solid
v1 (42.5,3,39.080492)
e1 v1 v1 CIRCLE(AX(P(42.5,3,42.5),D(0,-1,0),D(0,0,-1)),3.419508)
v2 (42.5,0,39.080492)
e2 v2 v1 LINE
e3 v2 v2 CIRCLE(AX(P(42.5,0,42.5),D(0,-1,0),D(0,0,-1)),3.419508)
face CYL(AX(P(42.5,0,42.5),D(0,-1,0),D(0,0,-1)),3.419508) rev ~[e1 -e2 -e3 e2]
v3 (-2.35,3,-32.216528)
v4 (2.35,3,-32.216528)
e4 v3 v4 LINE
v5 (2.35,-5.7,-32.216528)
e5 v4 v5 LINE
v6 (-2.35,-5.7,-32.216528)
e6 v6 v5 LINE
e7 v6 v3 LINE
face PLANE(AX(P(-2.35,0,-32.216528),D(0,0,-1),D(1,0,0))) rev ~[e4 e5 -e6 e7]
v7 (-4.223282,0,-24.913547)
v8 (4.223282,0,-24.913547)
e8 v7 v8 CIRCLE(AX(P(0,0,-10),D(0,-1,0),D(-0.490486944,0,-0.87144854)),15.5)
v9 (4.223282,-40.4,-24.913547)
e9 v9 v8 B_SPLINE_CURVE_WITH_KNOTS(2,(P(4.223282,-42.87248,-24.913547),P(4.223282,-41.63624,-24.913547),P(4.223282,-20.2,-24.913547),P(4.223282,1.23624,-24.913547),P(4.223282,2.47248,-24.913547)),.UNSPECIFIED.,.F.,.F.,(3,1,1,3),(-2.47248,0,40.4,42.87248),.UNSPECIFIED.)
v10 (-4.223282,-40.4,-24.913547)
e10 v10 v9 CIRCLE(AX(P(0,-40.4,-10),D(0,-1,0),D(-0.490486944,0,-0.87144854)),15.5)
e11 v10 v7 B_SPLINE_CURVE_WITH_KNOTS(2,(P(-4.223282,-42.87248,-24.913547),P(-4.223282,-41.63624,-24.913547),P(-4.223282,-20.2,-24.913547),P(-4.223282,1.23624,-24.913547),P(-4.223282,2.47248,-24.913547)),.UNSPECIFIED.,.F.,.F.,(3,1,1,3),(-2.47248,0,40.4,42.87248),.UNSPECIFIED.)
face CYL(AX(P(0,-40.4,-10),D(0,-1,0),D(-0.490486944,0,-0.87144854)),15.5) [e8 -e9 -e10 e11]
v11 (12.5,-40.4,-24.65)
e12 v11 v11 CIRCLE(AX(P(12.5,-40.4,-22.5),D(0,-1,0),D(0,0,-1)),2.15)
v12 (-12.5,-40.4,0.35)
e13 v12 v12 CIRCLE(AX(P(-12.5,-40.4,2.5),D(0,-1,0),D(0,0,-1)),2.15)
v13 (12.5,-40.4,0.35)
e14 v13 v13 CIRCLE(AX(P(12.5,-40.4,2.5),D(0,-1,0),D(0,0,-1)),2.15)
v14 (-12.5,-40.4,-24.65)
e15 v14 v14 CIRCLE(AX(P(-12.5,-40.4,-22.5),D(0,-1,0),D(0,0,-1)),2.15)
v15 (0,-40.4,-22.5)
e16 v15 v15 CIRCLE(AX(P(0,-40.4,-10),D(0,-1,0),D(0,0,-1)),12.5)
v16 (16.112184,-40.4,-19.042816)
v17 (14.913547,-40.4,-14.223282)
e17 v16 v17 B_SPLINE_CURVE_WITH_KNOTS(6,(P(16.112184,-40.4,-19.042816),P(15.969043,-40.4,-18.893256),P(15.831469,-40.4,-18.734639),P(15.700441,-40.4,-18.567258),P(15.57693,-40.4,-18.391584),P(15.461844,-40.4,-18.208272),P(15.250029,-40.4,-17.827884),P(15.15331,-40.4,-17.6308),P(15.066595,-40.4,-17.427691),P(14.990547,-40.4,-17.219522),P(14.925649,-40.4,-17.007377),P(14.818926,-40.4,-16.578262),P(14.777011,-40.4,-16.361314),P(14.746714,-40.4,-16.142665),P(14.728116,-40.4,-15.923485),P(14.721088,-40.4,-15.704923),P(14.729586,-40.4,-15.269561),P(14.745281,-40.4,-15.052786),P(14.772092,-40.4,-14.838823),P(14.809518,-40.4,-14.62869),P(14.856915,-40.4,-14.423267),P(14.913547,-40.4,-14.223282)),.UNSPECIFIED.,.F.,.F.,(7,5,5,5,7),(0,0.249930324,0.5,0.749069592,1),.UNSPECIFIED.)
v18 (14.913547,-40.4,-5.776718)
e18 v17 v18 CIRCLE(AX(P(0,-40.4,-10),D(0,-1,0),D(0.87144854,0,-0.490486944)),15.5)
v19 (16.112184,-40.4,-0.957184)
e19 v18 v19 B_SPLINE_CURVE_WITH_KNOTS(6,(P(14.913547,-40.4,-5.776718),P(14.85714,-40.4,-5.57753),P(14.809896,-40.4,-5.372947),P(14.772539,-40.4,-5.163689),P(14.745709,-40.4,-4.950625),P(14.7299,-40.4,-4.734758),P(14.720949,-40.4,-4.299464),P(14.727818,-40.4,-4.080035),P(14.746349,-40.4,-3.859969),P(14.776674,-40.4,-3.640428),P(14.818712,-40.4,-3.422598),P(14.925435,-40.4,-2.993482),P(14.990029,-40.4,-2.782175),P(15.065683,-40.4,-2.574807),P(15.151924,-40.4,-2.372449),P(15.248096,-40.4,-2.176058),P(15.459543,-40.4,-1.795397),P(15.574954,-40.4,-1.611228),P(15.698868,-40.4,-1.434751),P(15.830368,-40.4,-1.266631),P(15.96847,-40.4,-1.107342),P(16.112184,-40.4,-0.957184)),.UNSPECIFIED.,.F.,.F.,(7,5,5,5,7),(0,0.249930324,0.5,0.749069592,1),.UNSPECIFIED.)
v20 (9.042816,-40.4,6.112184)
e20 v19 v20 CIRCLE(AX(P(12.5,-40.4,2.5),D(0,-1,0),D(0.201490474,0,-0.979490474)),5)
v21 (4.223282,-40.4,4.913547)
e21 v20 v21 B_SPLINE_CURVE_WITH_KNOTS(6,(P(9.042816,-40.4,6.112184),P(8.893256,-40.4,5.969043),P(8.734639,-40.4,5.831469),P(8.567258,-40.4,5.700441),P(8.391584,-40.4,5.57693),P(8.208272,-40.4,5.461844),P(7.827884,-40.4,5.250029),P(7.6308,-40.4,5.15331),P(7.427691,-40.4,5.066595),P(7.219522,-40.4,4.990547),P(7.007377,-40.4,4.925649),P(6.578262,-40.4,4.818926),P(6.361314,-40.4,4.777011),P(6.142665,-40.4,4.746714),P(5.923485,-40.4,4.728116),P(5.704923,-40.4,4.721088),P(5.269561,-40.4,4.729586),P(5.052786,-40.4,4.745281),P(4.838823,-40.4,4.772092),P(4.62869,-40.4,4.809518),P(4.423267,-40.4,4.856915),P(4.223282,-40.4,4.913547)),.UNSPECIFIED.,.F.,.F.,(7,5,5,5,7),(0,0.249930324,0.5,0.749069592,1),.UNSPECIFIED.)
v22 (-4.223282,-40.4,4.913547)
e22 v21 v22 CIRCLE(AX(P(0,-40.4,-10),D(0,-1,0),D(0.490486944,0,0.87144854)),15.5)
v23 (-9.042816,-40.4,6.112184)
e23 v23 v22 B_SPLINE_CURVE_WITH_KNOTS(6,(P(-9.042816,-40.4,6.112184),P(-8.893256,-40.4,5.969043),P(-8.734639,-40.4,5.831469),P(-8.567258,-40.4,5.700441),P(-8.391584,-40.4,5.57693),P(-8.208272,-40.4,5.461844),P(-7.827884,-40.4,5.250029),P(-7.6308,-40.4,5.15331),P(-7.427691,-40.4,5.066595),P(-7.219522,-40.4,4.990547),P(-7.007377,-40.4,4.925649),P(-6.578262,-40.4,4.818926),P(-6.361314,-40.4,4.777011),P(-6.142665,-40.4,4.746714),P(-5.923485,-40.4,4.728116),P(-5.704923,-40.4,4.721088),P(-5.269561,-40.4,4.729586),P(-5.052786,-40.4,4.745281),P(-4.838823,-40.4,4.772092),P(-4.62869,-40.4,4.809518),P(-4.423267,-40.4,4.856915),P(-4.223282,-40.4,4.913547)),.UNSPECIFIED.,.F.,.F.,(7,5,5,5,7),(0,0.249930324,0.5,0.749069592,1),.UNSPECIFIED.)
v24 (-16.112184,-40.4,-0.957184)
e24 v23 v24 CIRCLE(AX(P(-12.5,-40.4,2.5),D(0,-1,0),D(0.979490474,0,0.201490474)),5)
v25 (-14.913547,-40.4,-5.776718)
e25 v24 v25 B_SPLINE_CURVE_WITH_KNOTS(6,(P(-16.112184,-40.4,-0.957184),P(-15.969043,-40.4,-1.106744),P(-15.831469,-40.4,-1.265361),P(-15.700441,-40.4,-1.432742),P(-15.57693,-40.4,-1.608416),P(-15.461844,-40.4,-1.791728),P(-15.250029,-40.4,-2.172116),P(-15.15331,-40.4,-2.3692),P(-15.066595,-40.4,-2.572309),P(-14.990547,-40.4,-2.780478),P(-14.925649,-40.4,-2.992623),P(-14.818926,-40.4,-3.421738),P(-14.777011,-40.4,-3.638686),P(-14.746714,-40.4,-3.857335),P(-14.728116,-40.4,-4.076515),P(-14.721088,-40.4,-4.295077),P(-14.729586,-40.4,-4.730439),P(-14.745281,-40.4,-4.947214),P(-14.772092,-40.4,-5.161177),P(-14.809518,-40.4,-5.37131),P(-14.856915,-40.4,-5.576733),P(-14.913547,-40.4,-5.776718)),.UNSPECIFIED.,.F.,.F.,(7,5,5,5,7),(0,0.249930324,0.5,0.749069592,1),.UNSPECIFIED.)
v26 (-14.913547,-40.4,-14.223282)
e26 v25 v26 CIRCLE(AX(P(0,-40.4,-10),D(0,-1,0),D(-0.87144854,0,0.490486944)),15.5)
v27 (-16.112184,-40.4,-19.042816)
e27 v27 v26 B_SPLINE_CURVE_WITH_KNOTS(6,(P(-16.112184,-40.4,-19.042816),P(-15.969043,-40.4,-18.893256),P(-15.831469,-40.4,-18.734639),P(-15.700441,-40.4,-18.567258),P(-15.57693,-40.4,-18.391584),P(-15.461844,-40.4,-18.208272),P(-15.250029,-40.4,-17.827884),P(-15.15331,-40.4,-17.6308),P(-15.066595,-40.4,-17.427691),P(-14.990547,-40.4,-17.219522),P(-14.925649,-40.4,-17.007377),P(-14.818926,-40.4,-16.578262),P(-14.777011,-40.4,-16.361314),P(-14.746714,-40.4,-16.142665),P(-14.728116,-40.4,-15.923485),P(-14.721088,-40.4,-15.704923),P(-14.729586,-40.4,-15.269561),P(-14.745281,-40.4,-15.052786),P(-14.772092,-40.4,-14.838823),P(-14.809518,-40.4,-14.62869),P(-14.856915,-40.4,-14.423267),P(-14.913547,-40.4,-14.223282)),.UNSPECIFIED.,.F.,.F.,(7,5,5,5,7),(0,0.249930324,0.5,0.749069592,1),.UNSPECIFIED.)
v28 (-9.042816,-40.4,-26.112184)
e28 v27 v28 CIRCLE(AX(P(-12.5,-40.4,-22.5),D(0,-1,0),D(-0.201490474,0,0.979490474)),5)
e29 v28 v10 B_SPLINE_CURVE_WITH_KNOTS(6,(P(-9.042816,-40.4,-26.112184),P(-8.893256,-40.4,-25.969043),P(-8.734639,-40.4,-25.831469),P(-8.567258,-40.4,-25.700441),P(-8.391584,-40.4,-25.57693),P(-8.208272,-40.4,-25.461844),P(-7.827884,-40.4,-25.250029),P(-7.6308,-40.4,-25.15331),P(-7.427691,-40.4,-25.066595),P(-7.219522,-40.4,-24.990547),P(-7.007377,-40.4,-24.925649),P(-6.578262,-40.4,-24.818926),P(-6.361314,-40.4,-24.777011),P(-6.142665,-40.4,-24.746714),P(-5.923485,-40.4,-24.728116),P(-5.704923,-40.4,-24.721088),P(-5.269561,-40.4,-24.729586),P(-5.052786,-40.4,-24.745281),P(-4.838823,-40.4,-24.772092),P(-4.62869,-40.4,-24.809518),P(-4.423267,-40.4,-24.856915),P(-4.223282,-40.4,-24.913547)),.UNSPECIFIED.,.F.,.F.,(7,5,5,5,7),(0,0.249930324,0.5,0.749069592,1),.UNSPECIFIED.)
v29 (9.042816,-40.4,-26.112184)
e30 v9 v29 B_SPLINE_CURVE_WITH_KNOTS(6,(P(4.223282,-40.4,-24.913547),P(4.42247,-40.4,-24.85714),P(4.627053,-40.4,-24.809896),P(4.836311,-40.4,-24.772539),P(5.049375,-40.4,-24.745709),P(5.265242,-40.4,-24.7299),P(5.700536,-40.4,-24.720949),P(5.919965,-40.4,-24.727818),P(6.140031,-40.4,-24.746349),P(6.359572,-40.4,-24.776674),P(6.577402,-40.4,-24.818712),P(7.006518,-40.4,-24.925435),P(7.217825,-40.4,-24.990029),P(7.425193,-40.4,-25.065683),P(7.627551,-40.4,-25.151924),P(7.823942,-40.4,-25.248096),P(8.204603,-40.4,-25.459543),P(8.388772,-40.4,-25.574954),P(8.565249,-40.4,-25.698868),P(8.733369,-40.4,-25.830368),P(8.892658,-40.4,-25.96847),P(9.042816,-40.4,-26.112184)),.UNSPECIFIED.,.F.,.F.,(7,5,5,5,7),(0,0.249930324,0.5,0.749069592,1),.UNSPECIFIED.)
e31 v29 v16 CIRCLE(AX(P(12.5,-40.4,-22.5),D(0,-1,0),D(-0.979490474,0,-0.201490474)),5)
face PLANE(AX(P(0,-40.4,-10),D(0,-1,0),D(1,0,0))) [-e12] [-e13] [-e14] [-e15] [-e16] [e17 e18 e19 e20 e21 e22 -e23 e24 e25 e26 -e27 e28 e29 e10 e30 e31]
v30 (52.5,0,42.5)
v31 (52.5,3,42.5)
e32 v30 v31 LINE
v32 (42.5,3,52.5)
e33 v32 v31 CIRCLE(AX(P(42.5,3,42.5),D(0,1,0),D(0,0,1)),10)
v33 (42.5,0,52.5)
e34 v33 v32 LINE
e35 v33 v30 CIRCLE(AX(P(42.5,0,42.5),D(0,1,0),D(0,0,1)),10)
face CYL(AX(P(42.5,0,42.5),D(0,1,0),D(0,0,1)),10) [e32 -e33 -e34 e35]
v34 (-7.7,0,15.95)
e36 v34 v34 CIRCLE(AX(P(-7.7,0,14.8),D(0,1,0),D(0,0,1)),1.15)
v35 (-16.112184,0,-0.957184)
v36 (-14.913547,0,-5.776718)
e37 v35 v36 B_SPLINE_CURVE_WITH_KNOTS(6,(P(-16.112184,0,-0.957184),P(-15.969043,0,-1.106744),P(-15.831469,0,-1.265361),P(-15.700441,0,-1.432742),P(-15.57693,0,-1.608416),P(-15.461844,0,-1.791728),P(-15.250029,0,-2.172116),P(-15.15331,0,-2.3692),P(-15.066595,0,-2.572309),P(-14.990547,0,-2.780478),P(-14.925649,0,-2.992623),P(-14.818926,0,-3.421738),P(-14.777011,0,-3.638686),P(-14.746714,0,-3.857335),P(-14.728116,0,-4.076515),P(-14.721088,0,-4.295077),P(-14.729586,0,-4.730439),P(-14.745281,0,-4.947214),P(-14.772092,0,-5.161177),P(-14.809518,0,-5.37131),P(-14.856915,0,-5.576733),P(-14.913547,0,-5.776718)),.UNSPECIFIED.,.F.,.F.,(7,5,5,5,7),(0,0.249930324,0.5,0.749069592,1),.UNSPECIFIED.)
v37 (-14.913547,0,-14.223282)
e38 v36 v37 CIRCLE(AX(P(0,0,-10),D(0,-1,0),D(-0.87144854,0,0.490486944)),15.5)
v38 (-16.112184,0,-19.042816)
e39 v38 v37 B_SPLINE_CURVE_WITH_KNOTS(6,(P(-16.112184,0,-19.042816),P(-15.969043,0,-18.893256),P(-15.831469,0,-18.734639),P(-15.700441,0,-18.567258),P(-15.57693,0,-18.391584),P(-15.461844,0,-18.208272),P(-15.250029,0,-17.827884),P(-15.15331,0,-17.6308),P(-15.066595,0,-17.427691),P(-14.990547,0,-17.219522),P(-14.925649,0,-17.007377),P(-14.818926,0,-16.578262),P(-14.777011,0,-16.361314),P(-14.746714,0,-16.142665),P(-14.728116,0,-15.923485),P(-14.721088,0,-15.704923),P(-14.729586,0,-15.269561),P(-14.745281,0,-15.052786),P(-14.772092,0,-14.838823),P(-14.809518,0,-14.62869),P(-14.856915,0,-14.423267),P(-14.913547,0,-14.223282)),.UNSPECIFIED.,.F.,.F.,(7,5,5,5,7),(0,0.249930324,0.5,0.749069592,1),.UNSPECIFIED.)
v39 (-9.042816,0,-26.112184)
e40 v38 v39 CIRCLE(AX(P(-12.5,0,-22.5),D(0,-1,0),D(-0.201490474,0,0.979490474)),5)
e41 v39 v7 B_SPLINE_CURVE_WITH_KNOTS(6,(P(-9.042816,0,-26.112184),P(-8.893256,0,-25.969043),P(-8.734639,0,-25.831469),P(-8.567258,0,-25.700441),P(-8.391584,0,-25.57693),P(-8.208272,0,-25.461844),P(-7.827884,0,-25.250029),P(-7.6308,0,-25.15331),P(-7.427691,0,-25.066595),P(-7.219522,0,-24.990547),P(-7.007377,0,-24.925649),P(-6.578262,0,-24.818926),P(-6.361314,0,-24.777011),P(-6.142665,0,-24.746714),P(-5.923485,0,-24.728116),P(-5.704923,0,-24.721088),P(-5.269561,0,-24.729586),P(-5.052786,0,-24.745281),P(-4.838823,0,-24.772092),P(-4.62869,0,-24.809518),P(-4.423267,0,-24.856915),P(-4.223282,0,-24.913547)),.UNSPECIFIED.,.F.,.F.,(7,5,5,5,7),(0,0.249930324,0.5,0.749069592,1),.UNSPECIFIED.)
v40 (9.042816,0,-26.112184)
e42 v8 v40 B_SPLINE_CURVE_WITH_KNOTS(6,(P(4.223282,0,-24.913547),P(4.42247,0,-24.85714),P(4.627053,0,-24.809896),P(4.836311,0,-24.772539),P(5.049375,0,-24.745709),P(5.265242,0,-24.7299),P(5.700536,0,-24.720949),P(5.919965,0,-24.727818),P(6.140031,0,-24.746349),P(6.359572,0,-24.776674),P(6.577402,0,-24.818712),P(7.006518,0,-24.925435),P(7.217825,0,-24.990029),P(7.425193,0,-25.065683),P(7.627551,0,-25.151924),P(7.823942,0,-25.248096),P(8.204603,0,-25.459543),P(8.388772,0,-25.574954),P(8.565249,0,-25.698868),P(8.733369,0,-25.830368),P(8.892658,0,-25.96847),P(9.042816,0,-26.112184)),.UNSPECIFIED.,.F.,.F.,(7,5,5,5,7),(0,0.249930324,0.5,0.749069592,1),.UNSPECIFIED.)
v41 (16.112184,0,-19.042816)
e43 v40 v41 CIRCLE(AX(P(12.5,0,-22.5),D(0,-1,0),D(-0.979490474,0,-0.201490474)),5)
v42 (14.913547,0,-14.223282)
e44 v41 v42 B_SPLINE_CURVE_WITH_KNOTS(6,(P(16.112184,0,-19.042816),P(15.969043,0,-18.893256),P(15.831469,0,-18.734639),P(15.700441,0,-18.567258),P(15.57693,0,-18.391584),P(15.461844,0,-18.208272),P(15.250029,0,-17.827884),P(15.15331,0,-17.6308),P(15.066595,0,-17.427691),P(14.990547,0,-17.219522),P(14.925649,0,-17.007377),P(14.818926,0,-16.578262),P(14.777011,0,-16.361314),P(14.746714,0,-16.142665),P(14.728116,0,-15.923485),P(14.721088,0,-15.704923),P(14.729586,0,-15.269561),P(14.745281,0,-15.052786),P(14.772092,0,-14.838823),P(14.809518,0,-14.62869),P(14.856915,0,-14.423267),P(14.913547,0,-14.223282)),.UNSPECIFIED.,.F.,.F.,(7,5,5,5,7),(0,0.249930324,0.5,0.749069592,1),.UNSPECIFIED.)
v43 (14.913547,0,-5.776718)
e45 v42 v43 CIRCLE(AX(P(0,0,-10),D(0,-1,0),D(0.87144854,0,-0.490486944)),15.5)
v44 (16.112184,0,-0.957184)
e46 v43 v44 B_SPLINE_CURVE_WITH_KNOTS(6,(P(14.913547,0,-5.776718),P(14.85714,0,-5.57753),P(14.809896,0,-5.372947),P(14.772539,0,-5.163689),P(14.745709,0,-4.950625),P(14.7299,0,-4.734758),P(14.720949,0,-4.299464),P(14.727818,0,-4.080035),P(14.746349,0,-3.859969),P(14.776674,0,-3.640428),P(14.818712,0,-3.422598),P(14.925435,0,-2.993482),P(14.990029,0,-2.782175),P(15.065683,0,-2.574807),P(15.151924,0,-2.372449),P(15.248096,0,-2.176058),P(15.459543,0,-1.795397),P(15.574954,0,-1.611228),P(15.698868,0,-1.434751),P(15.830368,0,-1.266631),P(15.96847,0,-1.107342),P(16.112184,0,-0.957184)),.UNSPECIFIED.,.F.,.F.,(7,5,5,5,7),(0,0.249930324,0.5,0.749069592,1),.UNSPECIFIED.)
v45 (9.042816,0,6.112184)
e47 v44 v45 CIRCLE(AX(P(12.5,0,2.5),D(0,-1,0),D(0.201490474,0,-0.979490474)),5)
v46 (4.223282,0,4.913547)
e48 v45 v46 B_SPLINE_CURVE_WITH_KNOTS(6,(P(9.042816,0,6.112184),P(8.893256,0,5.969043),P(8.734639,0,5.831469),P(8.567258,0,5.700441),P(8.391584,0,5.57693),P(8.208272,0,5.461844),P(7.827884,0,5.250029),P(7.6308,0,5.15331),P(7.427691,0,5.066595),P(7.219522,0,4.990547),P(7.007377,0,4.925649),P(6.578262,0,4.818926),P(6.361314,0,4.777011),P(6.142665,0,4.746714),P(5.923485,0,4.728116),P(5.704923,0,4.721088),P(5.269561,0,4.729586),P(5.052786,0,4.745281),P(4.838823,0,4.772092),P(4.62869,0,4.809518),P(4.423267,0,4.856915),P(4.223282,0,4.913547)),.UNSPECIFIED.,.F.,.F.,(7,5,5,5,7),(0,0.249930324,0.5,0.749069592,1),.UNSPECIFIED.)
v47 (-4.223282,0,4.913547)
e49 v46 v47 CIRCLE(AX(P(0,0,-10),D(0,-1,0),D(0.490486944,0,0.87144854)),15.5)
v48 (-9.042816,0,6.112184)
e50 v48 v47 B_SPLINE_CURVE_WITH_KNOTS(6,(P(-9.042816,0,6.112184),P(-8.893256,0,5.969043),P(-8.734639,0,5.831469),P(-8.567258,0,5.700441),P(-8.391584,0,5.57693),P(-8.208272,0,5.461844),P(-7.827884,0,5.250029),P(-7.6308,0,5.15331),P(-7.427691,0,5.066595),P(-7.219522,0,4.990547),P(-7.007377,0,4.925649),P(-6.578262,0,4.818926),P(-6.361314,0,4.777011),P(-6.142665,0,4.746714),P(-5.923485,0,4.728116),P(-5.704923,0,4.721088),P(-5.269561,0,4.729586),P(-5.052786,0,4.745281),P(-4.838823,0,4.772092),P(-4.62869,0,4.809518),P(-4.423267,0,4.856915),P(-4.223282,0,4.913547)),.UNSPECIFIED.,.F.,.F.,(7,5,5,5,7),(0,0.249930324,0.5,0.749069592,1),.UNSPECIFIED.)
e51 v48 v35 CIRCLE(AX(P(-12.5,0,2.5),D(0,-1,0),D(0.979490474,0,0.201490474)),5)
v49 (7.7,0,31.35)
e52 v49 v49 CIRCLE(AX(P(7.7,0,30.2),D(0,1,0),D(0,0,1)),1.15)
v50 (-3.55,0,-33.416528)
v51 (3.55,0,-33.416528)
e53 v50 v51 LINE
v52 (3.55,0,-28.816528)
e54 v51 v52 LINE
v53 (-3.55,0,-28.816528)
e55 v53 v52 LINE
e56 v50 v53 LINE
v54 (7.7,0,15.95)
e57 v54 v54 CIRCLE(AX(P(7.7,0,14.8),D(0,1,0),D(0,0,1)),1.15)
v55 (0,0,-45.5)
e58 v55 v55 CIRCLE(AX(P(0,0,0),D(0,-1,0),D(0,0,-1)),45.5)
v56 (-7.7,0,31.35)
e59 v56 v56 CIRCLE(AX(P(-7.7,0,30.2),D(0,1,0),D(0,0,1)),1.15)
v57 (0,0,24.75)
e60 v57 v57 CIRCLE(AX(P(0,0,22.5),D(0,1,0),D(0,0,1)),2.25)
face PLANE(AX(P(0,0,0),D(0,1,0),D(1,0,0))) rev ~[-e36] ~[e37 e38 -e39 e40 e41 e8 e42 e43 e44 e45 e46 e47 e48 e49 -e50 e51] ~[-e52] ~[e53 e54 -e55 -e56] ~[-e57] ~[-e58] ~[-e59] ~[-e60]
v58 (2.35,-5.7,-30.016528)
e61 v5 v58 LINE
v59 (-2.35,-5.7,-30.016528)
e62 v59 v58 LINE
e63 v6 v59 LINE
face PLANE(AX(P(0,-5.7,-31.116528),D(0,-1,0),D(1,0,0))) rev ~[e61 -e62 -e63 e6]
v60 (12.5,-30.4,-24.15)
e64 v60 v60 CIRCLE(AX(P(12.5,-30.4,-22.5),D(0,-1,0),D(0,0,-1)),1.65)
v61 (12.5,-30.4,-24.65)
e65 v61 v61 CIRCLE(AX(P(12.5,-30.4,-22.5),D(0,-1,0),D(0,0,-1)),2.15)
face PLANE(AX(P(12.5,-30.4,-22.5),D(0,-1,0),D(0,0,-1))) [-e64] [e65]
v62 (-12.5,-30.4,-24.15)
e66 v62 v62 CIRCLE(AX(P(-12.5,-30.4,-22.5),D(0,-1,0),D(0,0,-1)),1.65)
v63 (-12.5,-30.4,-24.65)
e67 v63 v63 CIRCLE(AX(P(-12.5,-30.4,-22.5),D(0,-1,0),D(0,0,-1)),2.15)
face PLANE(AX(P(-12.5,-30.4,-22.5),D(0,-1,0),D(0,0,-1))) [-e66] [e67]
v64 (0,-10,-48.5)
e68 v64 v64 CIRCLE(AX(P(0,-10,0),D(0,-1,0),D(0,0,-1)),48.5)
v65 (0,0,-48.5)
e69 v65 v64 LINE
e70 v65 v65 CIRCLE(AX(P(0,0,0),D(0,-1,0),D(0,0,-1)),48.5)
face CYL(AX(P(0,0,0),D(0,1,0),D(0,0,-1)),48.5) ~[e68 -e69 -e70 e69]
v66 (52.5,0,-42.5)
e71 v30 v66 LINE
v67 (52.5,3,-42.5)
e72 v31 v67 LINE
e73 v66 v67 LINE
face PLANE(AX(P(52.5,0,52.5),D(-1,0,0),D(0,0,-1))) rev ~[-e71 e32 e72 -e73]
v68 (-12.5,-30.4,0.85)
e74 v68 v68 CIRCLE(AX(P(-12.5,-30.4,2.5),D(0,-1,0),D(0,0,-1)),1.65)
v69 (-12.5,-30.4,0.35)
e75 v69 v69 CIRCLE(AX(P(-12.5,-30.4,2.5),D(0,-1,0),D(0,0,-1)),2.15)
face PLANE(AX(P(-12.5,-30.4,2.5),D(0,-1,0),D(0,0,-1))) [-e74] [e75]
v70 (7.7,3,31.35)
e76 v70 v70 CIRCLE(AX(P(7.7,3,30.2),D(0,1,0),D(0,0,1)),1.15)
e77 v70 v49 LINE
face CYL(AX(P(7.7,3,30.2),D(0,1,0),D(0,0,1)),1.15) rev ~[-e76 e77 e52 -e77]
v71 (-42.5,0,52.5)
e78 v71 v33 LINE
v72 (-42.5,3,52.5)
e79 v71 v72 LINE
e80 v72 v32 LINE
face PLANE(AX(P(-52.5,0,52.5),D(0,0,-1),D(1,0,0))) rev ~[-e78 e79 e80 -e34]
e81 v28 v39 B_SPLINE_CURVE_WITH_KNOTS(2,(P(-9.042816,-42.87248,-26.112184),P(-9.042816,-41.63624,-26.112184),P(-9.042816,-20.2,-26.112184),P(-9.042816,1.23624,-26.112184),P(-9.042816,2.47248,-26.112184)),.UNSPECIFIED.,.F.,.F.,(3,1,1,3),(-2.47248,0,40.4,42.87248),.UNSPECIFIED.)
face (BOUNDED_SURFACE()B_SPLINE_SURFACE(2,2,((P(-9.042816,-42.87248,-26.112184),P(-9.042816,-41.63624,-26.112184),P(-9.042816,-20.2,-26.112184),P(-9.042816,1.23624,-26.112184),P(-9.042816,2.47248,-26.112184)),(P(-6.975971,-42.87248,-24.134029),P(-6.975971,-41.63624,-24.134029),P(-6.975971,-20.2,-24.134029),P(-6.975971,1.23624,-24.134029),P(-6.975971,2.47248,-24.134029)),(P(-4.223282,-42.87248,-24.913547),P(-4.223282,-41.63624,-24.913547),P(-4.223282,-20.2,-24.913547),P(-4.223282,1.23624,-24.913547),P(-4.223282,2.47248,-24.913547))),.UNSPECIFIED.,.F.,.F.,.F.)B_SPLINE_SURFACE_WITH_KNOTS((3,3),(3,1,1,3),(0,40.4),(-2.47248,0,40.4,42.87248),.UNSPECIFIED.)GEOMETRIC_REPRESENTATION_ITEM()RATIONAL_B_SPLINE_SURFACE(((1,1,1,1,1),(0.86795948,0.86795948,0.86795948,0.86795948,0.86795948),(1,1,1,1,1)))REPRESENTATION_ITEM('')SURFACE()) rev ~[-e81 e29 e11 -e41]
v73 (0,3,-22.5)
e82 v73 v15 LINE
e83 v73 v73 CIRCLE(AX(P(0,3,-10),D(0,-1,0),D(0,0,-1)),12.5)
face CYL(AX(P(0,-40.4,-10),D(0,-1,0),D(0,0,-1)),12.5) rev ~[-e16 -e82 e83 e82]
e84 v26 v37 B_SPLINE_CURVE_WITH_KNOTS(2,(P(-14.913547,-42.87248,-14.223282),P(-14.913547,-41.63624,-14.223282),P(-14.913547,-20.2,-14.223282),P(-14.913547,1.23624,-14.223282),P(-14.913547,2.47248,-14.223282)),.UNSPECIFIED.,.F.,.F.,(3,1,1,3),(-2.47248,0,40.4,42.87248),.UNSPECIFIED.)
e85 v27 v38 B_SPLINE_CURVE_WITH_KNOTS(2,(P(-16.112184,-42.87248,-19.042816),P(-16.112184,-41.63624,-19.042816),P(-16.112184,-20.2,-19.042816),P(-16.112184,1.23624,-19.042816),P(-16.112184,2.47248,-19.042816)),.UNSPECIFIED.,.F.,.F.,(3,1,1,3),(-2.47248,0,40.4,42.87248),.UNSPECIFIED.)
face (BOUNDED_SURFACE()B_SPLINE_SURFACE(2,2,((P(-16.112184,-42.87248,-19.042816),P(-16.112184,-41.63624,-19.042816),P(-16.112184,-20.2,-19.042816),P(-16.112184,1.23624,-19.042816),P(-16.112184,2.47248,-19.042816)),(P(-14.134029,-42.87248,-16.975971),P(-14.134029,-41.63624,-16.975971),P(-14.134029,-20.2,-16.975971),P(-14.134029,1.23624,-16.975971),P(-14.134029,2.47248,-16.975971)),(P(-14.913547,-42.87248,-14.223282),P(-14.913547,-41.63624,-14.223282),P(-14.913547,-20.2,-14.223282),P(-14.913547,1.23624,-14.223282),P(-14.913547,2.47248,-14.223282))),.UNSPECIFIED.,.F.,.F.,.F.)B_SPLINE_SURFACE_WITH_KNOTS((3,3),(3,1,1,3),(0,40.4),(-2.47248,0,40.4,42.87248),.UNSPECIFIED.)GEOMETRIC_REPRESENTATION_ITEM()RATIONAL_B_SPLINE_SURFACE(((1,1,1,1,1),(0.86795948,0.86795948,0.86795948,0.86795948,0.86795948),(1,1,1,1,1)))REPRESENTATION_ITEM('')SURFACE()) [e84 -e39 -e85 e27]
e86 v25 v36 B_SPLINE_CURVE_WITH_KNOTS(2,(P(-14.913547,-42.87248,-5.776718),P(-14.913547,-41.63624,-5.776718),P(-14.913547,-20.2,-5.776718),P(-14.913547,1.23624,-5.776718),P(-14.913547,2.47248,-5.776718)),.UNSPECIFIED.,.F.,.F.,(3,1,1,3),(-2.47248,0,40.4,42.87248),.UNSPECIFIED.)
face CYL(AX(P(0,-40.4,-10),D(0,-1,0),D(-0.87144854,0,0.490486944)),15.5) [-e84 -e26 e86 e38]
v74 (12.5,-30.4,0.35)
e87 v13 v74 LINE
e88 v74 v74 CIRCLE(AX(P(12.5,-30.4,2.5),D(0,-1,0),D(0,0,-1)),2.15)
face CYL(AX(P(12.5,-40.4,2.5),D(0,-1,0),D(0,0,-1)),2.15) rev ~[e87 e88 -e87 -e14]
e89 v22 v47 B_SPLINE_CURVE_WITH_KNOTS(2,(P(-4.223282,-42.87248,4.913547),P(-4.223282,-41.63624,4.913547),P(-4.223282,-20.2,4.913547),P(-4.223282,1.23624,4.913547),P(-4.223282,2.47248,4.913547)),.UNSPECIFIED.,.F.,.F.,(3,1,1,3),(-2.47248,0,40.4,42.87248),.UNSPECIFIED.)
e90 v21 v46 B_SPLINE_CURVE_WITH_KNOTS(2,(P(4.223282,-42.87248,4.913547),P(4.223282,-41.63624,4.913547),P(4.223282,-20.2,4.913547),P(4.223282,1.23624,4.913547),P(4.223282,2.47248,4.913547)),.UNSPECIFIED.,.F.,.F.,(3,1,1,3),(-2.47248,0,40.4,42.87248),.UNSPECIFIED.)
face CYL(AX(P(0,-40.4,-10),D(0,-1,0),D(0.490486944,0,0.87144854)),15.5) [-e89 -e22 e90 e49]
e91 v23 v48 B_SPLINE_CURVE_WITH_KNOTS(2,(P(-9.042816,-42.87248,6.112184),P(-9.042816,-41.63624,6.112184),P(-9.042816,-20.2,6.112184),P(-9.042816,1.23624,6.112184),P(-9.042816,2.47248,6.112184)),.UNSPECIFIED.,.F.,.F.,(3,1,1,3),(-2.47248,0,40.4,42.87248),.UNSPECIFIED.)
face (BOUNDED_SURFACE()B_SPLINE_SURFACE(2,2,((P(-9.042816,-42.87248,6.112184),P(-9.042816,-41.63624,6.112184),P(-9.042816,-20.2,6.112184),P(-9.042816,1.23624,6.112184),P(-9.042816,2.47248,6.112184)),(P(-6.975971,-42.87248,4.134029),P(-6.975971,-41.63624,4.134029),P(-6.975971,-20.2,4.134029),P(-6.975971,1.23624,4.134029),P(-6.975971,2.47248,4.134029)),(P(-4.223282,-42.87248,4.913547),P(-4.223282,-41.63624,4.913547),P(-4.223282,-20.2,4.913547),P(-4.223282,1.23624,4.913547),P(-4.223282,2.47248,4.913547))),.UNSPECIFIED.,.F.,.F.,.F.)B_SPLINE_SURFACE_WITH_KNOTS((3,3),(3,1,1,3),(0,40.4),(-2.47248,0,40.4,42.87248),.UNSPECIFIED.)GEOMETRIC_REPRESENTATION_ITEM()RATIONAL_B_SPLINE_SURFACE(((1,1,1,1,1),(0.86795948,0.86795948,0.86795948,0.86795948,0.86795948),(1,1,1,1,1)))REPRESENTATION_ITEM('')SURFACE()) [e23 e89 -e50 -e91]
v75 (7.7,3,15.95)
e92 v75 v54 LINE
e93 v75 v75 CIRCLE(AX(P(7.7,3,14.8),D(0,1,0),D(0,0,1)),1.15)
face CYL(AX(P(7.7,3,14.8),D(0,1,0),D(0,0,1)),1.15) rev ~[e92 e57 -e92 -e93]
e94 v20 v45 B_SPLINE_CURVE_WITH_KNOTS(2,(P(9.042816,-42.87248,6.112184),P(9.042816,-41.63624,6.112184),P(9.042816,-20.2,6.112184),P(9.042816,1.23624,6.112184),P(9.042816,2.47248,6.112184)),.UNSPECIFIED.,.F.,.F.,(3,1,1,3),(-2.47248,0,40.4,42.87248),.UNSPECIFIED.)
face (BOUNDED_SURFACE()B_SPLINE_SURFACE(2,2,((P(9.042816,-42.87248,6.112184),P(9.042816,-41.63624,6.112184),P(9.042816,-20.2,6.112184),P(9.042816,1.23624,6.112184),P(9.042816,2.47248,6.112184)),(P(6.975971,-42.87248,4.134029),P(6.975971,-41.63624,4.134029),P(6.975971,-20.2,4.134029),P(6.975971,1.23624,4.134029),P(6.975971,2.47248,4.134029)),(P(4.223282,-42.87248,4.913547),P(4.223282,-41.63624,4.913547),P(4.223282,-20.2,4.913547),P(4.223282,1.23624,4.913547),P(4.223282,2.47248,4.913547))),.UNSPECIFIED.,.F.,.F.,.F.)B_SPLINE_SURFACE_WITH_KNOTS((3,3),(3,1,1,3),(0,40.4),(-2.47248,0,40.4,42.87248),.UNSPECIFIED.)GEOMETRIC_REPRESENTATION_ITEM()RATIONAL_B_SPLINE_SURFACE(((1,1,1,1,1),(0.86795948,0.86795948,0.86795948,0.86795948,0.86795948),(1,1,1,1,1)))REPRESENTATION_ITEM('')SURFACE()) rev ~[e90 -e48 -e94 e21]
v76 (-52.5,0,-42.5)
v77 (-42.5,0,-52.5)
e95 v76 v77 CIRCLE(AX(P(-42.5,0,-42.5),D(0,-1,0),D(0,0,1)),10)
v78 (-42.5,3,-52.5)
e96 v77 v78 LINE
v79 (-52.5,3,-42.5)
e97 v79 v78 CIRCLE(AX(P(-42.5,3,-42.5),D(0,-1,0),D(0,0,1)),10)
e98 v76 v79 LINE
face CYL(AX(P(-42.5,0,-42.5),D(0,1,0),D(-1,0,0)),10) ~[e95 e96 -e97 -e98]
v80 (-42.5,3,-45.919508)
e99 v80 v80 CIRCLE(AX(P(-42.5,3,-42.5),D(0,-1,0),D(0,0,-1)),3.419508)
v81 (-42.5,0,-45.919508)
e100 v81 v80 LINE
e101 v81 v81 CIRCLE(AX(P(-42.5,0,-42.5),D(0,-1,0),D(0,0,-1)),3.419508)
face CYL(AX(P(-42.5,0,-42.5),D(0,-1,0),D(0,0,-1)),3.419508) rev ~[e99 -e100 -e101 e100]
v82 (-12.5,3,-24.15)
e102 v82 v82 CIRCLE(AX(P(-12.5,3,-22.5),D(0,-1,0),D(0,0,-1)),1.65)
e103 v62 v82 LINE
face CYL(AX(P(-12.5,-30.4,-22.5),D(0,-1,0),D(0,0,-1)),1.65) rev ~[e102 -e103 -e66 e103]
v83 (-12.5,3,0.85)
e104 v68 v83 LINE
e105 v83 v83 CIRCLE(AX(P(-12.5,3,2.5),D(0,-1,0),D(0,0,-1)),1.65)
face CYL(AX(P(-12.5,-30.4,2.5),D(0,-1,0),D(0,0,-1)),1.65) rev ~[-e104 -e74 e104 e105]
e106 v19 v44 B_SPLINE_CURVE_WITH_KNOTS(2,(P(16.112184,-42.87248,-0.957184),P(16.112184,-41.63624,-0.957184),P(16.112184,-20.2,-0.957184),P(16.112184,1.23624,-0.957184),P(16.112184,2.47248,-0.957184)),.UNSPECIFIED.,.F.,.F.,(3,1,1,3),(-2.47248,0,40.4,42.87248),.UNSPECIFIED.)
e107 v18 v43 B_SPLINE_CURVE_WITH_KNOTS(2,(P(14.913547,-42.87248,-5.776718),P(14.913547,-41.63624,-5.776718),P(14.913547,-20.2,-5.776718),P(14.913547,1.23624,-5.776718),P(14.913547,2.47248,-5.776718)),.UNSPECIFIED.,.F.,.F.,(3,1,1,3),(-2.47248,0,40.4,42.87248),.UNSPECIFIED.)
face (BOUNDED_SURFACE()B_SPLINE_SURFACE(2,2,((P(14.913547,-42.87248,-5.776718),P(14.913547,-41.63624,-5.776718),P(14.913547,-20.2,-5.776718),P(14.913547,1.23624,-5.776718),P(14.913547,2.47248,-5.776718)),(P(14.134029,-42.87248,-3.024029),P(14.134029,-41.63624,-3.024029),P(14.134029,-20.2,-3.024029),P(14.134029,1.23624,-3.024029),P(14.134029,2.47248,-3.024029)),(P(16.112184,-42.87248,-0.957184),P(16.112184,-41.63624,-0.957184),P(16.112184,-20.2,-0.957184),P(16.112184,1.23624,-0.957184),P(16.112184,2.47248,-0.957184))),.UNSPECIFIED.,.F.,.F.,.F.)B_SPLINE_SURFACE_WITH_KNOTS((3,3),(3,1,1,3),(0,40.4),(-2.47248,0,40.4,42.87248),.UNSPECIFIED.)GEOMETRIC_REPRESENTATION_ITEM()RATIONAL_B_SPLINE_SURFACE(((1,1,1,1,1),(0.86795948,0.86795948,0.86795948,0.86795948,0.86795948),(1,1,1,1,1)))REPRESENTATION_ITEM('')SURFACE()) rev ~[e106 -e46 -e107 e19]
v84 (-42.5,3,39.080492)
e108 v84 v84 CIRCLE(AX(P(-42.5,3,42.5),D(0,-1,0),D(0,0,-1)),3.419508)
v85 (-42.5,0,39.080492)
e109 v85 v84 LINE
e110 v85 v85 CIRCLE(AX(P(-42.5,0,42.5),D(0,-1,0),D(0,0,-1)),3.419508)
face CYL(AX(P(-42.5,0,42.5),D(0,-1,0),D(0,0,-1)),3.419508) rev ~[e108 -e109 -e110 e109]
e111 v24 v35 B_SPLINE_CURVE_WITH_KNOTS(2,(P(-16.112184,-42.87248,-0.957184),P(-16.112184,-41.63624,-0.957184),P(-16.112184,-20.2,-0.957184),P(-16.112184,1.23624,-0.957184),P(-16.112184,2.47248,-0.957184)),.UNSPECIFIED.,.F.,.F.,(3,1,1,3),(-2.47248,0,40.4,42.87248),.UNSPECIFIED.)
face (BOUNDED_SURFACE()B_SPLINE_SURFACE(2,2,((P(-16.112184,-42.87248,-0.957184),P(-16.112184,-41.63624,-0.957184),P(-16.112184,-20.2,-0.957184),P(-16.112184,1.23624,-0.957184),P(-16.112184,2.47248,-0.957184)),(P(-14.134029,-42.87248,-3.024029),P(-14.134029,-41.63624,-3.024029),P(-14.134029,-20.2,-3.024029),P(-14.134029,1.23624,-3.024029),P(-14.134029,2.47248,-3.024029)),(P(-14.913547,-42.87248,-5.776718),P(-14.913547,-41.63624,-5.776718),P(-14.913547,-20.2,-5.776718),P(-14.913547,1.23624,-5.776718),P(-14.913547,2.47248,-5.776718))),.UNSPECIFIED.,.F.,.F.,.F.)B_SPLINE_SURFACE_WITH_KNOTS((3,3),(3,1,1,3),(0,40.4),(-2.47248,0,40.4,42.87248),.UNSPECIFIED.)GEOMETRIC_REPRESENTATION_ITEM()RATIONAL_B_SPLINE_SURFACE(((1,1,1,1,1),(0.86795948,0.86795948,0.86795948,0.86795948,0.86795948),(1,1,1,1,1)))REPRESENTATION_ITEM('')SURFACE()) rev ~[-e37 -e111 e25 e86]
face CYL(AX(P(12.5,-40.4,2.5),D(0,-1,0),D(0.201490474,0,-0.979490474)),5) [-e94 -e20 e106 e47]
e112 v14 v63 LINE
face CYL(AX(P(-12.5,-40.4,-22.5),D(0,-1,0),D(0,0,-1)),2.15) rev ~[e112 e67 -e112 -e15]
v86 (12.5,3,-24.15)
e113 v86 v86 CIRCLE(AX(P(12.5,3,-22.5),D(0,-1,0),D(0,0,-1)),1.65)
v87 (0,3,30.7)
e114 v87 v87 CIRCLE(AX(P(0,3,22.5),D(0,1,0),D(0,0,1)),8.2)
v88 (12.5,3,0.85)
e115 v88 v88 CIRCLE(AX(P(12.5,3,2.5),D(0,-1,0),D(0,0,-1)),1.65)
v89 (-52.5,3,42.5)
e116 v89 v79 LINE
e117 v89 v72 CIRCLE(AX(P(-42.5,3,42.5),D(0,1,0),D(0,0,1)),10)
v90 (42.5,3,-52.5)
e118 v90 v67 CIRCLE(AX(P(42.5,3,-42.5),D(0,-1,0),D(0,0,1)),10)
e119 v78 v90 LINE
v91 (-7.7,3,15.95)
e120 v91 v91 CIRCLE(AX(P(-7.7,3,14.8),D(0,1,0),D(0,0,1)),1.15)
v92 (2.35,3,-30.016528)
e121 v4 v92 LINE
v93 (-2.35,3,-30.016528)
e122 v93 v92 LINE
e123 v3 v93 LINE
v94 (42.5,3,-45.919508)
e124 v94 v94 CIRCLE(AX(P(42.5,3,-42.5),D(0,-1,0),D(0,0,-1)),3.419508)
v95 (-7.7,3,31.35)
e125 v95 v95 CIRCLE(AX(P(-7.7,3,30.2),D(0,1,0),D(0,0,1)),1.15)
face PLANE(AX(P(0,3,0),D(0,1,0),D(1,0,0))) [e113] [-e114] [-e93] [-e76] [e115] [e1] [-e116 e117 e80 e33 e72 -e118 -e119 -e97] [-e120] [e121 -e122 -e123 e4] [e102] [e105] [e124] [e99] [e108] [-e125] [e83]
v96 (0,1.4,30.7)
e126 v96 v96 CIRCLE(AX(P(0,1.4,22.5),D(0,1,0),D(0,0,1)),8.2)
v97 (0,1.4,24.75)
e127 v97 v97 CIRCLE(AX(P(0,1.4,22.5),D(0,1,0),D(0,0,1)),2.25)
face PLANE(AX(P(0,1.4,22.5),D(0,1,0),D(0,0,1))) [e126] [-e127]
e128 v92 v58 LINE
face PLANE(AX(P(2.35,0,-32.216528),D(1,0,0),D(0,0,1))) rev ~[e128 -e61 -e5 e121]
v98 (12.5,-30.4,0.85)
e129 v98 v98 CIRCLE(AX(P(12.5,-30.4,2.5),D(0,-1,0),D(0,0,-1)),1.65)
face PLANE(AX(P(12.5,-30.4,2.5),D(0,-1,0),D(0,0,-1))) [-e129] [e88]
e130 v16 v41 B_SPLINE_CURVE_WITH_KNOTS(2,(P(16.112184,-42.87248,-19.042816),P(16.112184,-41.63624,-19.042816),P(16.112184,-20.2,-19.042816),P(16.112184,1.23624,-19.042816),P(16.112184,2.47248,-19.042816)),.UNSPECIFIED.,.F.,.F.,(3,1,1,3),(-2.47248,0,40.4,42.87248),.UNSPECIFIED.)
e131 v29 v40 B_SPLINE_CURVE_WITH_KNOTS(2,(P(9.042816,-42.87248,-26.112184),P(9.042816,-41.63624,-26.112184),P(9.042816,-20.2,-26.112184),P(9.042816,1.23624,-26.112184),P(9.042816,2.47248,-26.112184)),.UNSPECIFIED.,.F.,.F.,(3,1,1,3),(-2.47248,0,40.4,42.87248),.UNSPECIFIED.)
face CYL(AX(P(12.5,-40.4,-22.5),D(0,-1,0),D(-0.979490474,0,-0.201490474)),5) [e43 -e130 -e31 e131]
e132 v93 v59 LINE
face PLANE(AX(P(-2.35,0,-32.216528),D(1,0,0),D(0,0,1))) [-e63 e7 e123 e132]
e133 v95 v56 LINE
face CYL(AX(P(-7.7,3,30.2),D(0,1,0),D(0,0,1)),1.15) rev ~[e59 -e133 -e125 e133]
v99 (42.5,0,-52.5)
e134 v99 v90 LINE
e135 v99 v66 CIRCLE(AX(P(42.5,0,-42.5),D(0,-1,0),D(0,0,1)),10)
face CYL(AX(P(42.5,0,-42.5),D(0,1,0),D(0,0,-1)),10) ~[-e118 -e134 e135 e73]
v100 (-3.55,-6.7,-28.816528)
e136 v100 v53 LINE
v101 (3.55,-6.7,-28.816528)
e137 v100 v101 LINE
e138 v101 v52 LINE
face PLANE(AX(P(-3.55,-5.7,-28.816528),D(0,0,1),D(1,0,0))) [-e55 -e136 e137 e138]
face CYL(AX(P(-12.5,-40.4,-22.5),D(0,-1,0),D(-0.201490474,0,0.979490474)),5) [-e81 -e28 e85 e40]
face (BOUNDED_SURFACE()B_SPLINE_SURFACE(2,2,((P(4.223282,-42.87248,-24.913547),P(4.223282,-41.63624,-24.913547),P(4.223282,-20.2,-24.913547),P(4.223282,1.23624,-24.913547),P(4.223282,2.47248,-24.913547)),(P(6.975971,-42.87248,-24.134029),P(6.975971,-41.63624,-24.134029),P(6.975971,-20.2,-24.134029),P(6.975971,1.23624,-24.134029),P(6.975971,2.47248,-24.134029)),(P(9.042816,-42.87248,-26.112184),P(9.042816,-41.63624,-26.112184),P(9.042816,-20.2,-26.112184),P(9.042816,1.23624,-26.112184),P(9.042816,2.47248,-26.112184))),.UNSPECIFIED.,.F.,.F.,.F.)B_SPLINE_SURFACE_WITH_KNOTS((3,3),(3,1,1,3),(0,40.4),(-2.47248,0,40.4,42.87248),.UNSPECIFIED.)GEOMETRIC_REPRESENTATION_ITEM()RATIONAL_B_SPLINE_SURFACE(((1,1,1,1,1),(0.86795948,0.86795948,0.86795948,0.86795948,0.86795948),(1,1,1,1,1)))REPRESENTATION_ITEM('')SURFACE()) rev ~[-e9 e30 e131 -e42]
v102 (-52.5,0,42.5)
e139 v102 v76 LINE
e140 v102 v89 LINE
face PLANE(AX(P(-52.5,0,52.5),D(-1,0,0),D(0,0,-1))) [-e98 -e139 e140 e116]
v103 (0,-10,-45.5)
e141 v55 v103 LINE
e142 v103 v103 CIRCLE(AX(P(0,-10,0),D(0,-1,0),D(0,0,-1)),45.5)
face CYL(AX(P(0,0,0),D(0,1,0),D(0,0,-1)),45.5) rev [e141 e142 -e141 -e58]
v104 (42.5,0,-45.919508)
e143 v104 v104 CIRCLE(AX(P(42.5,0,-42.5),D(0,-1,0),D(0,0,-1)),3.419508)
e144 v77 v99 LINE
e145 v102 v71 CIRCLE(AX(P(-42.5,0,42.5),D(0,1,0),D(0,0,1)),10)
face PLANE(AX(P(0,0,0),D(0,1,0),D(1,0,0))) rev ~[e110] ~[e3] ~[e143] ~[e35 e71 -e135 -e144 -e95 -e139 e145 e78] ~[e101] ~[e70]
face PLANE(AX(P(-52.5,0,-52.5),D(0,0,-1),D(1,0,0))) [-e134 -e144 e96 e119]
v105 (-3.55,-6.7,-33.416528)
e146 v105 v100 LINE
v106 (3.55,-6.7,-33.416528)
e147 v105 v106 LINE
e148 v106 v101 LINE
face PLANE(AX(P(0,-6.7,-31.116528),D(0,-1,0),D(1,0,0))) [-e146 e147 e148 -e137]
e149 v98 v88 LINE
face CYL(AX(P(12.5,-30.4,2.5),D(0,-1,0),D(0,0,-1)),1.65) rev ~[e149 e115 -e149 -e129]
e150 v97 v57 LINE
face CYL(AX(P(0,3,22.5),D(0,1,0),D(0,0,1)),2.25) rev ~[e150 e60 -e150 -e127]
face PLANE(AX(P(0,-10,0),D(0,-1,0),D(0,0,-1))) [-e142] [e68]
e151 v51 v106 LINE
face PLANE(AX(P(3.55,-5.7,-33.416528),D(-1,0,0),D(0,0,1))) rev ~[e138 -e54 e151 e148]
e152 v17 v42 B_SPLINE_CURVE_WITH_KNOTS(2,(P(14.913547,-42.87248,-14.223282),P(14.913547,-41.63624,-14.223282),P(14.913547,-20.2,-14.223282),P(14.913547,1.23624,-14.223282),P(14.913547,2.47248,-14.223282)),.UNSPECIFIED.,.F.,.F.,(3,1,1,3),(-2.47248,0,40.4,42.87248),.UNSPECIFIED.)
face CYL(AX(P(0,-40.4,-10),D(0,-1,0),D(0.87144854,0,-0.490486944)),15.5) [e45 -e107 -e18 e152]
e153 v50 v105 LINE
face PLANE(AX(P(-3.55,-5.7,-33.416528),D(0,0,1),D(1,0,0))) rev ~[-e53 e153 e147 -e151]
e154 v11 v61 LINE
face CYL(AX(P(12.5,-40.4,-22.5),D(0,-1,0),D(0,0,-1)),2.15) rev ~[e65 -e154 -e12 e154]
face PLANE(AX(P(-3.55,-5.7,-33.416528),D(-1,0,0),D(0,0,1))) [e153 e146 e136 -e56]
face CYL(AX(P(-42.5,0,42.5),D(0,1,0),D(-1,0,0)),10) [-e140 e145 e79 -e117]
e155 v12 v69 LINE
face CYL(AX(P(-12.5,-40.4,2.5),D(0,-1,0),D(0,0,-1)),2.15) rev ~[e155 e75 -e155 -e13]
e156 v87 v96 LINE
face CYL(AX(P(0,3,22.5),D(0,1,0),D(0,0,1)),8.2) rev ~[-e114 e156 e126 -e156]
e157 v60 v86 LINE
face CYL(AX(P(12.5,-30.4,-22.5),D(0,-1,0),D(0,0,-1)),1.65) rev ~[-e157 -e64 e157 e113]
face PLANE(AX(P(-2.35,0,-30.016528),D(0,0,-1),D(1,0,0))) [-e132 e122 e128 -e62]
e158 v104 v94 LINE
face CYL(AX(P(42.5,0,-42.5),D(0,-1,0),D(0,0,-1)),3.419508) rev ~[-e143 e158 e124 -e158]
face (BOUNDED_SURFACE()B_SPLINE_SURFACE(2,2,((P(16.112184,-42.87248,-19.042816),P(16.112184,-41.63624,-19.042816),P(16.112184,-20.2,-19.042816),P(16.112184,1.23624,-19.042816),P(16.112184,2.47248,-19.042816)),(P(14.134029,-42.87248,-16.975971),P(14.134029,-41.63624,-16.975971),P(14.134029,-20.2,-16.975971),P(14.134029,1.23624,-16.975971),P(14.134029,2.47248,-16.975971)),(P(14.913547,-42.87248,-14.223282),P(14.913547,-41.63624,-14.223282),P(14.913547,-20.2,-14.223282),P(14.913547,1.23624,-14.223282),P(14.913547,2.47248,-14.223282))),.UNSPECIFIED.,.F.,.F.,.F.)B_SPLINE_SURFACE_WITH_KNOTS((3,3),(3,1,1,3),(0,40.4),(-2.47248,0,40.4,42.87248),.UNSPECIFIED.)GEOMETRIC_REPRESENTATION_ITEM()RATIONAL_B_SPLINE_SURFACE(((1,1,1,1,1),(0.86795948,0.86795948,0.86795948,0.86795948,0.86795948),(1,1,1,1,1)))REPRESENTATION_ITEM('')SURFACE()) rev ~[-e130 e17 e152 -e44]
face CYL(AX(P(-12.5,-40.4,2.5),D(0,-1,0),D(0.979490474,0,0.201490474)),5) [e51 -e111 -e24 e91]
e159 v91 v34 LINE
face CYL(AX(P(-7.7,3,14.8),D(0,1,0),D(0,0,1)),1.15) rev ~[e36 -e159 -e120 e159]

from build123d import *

# Parameters (mm, degrees)
SKETCH1_W           = 105
SKETCH1_H           = 105
BOSS_EXTRUDE1_DEPTH = 3
SKETCH3_R           = 1.15
SKETCH3_R_2         = 2.25
CUT_EXTRUDE1_DEPTH  = 75.306796459
SKETCH4_R           = 8.2
CUT_EXTRUDE2_DEPTH  = 1.6
SKETCH5_R           = 48.5
SKETCH5_R_2         = 45.5
BOSS_EXTRUDE3_DEPTH = 10
SKETCH6_R           = 12.5
CUT_EXTRUDE3_DEPTH  = 75.916620319
BOSS_EXTRUDE4_START = 40.4
SKETCH7_R           = 12.5
BOSS_EXTRUDE4_DEPTH = 40.4
FILLET1_R           = 5
SKETCH8_R           = 2.15
CUT_EXTRUDE4_DEPTH  = 10
SKETCH9_R           = 1.65
CUT_EXTRUDE5_DEPTH  = 82.412898241
FILLET2_R           = 10
SKETCH10_R          = 3.419507724
CUT_EXTRUDE6_DEPTH  = 85.526090694
SKETCH11_W          = 7.1
SKETCH11_H          = 4.6
SKETCH11_W_2        = 4.7
SKETCH11_H_2        = 2.2
BOSS_EXTRUDE5_DEPTH = 5.7
SKETCH12_W          = 7.1
SKETCH12_H          = 4.6
BOSS_EXTRUDE6_DEPTH = 1
SKETCH13_W          = 4.7
SKETCH13_H          = 2.2
CUT_EXTRUDE7_DEPTH  = 3


with BuildPart() as part:
    # Sketch1 → Boss-Extrude1 (new body)
    with BuildSketch(Plane(origin=(0, 0, 0), x_dir=(1, 0, 0), z_dir=(0, 1, 0))):
        Rectangle(SKETCH1_W, SKETCH1_H)
    extrude(amount=BOSS_EXTRUDE1_DEPTH)

    # Sketch3 → Cut-Extrude1 (cut, through all)
    with BuildSketch(Plane(origin=(0, 3, 0), x_dir=(1, 0, 0), z_dir=(0, 1, 0))):
        with Locations(Location((-7.7, -30.2, 0), (0, 0, 270))):
            Circle(SKETCH3_R)
        with Locations(Location((7.7, -30.2, 0), (0, 0, 270))):
            Circle(SKETCH3_R)
        with Locations(Location((7.7, -14.8, 0), (0, 0, 270))):
            Circle(SKETCH3_R)
        with Locations(Location((-7.7, -14.8, 0), (0, 0, 270))):
            Circle(SKETCH3_R)
        with Locations(Location((0, -22.5, 0), (0, 0, 270))):
            Circle(SKETCH3_R_2)
    extrude(amount=-CUT_EXTRUDE1_DEPTH, mode=Mode.SUBTRACT)

    # Sketch4 → Cut-Extrude2 (cut)
    with BuildSketch(Plane(origin=(0, 3, 0), x_dir=(1, 0, 0), z_dir=(0, 1, 0))):
        with Locations(Location((0, -22.5, 0), (0, 0, 270))):
            Circle(SKETCH4_R)
    extrude(amount=-CUT_EXTRUDE2_DEPTH, mode=Mode.SUBTRACT)

    # Sketch5 → Boss-Extrude3 (add)
    with BuildSketch(Plane.XZ):
        with Locations(Location((0, 0, 0), (0, 0, 270))):
            Circle(SKETCH5_R)
        with Locations(Location((0, 0, 0), (0, 0, 270))):
            Circle(SKETCH5_R_2, mode=Mode.SUBTRACT)
    extrude(amount=BOSS_EXTRUDE3_DEPTH)

    # Sketch6 → Cut-Extrude3 (cut, through all)
    with BuildSketch(Plane.XZ):
        with Locations(Location((0, -10, 0), (0, 0, 270))):
            Circle(SKETCH6_R)
    extrude(amount=-CUT_EXTRUDE3_DEPTH, mode=Mode.SUBTRACT)

    # Sketch7 → Boss-Extrude4 (add)
    with BuildSketch(Plane.XZ.offset(BOSS_EXTRUDE4_START)):
        with BuildLine():
            ThreePointArc((-7.60254763, 3.50745237), (-16.035533906, 6.035533906), (-13.50745237, -2.39745237))
            ThreePointArc((-13.50745237, -2.39745237), (-15.5, -10), (-13.50745237, -17.60254763))
            ThreePointArc((-13.50745237, -17.60254763), (-16.035533906, -26.035533906), (-7.60254763, -23.50745237))
            ThreePointArc((-7.60254763, -23.50745237), (0, -25.5), (7.60254763, -23.50745237))
            ThreePointArc((7.60254763, -23.50745237), (16.035533906, -26.035533906), (13.50745237, -17.60254763))
            ThreePointArc((13.50745237, -17.60254763), (15.5, -10), (13.50745237, -2.39745237))
            ThreePointArc((13.50745237, -2.39745237), (16.035533906, 6.035533906), (7.60254763, 3.50745237))
            ThreePointArc((7.60254763, 3.50745237), (0, 5.5), (-7.60254763, 3.50745237))
        make_face()
        with Locations(Location((0, -10, 0), (0, 0, 270))):
            Circle(SKETCH7_R, mode=Mode.SUBTRACT)
    extrude(amount=-BOSS_EXTRUDE4_DEPTH)

    # Fillet1
    fillet1_edges = [part.edges().sort_by_distance(p)[0] for p in [
        (7.60254763, -20.2, 3.50745237),
        (-7.60254763, -20.2, 3.50745237),
        (-13.50745237, -20.2, -2.39745237),
        (-13.50745237, -20.2, -17.60254763),
        (-7.60254763, -20.2, -23.50745237),
        (7.60254763, -20.2, -23.50745237),
        (13.50745237, -20.2, -17.60254763),
        (13.50745237, -20.2, -2.39745237),
    ]]
    fillet(fillet1_edges, radius=FILLET1_R)

    # Sketch8 → Cut-Extrude4 (cut)
    with BuildSketch(Plane.XZ.offset(40.4)):
        with Locations(Location((-12.5, -22.5, 0), (0, 0, 270))):
            Circle(SKETCH8_R)
        with Locations(Location((12.5, -22.5, 0), (0, 0, 270))):
            Circle(SKETCH8_R)
        with Locations(Location((-12.5, 2.5, 0), (0, 0, 270))):
            Circle(SKETCH8_R)
        with Locations(Location((12.5, 2.5, 0), (0, 0, 270))):
            Circle(SKETCH8_R)
    extrude(amount=-CUT_EXTRUDE4_DEPTH, mode=Mode.SUBTRACT)

    # Sketch9 → Cut-Extrude5 (cut, through all)
    with BuildSketch(Plane.XZ.offset(30.4)):
        with Locations(Location((12.5, -22.5, 0), (0, 0, 270))):
            Circle(SKETCH9_R)
        with Locations(Location((-12.5, -22.5, 0), (0, 0, 270))):
            Circle(SKETCH9_R)
        with Locations(Location((-12.5, 2.5, 0), (0, 0, 270))):
            Circle(SKETCH9_R)
        with Locations(Location((12.5, 2.5, 0), (0, 0, 270))):
            Circle(SKETCH9_R)
    extrude(amount=-CUT_EXTRUDE5_DEPTH, mode=Mode.SUBTRACT)

    # Fillet2
    fillet2_edges = [part.edges().sort_by_distance(p)[0] for p in [
        (-52.5, 1.5, -52.5),
        (52.5, 1.5, -52.5),
        (52.5, 1.5, 52.5),
        (-52.5, 1.5, 52.5),
    ]]
    fillet(fillet2_edges, radius=FILLET2_R)

    # Sketch10 → Cut-Extrude6 (cut, through all)
    with BuildSketch(Plane.XZ):
        with Locations(Location((-42.5, -42.5, 0), (0, 0, 270))):
            Circle(SKETCH10_R)
        with Locations(Location((42.5, -42.5, 0), (0, 0, 270))):
            Circle(SKETCH10_R)
        with Locations(Location((42.5, 42.5, 0), (0, 0, 270))):
            Circle(SKETCH10_R)
        with Locations(Location((-42.5, 42.5, 0), (0, 0, 270))):
            Circle(SKETCH10_R)
    extrude(amount=-CUT_EXTRUDE6_DEPTH, mode=Mode.SUBTRACT)

    # Sketch11 → Boss-Extrude5 (add)
    with BuildSketch(Plane.XZ):
        with Locations((0, -31.116528476)):
            Rectangle(SKETCH11_W, SKETCH11_H)
        with Locations((0, -31.116528476)):
            Rectangle(SKETCH11_W_2, SKETCH11_H_2, mode=Mode.SUBTRACT)
    extrude(amount=BOSS_EXTRUDE5_DEPTH)

    # Sketch12 → Boss-Extrude6 (add)
    with BuildSketch(Plane.XZ.offset(5.7)):
        with Locations((0, -31.116528476)):
            Rectangle(SKETCH12_W, SKETCH12_H)
    extrude(amount=BOSS_EXTRUDE6_DEPTH)

    # Sketch13 → Cut-Extrude7 (cut)
    with BuildSketch(Plane.XZ):
        with Locations((0, -31.116528476)):
            Rectangle(SKETCH13_W, SKETCH13_H)
    extrude(amount=-CUT_EXTRUDE7_DEPTH, mode=Mode.SUBTRACT)


solid = part.part
